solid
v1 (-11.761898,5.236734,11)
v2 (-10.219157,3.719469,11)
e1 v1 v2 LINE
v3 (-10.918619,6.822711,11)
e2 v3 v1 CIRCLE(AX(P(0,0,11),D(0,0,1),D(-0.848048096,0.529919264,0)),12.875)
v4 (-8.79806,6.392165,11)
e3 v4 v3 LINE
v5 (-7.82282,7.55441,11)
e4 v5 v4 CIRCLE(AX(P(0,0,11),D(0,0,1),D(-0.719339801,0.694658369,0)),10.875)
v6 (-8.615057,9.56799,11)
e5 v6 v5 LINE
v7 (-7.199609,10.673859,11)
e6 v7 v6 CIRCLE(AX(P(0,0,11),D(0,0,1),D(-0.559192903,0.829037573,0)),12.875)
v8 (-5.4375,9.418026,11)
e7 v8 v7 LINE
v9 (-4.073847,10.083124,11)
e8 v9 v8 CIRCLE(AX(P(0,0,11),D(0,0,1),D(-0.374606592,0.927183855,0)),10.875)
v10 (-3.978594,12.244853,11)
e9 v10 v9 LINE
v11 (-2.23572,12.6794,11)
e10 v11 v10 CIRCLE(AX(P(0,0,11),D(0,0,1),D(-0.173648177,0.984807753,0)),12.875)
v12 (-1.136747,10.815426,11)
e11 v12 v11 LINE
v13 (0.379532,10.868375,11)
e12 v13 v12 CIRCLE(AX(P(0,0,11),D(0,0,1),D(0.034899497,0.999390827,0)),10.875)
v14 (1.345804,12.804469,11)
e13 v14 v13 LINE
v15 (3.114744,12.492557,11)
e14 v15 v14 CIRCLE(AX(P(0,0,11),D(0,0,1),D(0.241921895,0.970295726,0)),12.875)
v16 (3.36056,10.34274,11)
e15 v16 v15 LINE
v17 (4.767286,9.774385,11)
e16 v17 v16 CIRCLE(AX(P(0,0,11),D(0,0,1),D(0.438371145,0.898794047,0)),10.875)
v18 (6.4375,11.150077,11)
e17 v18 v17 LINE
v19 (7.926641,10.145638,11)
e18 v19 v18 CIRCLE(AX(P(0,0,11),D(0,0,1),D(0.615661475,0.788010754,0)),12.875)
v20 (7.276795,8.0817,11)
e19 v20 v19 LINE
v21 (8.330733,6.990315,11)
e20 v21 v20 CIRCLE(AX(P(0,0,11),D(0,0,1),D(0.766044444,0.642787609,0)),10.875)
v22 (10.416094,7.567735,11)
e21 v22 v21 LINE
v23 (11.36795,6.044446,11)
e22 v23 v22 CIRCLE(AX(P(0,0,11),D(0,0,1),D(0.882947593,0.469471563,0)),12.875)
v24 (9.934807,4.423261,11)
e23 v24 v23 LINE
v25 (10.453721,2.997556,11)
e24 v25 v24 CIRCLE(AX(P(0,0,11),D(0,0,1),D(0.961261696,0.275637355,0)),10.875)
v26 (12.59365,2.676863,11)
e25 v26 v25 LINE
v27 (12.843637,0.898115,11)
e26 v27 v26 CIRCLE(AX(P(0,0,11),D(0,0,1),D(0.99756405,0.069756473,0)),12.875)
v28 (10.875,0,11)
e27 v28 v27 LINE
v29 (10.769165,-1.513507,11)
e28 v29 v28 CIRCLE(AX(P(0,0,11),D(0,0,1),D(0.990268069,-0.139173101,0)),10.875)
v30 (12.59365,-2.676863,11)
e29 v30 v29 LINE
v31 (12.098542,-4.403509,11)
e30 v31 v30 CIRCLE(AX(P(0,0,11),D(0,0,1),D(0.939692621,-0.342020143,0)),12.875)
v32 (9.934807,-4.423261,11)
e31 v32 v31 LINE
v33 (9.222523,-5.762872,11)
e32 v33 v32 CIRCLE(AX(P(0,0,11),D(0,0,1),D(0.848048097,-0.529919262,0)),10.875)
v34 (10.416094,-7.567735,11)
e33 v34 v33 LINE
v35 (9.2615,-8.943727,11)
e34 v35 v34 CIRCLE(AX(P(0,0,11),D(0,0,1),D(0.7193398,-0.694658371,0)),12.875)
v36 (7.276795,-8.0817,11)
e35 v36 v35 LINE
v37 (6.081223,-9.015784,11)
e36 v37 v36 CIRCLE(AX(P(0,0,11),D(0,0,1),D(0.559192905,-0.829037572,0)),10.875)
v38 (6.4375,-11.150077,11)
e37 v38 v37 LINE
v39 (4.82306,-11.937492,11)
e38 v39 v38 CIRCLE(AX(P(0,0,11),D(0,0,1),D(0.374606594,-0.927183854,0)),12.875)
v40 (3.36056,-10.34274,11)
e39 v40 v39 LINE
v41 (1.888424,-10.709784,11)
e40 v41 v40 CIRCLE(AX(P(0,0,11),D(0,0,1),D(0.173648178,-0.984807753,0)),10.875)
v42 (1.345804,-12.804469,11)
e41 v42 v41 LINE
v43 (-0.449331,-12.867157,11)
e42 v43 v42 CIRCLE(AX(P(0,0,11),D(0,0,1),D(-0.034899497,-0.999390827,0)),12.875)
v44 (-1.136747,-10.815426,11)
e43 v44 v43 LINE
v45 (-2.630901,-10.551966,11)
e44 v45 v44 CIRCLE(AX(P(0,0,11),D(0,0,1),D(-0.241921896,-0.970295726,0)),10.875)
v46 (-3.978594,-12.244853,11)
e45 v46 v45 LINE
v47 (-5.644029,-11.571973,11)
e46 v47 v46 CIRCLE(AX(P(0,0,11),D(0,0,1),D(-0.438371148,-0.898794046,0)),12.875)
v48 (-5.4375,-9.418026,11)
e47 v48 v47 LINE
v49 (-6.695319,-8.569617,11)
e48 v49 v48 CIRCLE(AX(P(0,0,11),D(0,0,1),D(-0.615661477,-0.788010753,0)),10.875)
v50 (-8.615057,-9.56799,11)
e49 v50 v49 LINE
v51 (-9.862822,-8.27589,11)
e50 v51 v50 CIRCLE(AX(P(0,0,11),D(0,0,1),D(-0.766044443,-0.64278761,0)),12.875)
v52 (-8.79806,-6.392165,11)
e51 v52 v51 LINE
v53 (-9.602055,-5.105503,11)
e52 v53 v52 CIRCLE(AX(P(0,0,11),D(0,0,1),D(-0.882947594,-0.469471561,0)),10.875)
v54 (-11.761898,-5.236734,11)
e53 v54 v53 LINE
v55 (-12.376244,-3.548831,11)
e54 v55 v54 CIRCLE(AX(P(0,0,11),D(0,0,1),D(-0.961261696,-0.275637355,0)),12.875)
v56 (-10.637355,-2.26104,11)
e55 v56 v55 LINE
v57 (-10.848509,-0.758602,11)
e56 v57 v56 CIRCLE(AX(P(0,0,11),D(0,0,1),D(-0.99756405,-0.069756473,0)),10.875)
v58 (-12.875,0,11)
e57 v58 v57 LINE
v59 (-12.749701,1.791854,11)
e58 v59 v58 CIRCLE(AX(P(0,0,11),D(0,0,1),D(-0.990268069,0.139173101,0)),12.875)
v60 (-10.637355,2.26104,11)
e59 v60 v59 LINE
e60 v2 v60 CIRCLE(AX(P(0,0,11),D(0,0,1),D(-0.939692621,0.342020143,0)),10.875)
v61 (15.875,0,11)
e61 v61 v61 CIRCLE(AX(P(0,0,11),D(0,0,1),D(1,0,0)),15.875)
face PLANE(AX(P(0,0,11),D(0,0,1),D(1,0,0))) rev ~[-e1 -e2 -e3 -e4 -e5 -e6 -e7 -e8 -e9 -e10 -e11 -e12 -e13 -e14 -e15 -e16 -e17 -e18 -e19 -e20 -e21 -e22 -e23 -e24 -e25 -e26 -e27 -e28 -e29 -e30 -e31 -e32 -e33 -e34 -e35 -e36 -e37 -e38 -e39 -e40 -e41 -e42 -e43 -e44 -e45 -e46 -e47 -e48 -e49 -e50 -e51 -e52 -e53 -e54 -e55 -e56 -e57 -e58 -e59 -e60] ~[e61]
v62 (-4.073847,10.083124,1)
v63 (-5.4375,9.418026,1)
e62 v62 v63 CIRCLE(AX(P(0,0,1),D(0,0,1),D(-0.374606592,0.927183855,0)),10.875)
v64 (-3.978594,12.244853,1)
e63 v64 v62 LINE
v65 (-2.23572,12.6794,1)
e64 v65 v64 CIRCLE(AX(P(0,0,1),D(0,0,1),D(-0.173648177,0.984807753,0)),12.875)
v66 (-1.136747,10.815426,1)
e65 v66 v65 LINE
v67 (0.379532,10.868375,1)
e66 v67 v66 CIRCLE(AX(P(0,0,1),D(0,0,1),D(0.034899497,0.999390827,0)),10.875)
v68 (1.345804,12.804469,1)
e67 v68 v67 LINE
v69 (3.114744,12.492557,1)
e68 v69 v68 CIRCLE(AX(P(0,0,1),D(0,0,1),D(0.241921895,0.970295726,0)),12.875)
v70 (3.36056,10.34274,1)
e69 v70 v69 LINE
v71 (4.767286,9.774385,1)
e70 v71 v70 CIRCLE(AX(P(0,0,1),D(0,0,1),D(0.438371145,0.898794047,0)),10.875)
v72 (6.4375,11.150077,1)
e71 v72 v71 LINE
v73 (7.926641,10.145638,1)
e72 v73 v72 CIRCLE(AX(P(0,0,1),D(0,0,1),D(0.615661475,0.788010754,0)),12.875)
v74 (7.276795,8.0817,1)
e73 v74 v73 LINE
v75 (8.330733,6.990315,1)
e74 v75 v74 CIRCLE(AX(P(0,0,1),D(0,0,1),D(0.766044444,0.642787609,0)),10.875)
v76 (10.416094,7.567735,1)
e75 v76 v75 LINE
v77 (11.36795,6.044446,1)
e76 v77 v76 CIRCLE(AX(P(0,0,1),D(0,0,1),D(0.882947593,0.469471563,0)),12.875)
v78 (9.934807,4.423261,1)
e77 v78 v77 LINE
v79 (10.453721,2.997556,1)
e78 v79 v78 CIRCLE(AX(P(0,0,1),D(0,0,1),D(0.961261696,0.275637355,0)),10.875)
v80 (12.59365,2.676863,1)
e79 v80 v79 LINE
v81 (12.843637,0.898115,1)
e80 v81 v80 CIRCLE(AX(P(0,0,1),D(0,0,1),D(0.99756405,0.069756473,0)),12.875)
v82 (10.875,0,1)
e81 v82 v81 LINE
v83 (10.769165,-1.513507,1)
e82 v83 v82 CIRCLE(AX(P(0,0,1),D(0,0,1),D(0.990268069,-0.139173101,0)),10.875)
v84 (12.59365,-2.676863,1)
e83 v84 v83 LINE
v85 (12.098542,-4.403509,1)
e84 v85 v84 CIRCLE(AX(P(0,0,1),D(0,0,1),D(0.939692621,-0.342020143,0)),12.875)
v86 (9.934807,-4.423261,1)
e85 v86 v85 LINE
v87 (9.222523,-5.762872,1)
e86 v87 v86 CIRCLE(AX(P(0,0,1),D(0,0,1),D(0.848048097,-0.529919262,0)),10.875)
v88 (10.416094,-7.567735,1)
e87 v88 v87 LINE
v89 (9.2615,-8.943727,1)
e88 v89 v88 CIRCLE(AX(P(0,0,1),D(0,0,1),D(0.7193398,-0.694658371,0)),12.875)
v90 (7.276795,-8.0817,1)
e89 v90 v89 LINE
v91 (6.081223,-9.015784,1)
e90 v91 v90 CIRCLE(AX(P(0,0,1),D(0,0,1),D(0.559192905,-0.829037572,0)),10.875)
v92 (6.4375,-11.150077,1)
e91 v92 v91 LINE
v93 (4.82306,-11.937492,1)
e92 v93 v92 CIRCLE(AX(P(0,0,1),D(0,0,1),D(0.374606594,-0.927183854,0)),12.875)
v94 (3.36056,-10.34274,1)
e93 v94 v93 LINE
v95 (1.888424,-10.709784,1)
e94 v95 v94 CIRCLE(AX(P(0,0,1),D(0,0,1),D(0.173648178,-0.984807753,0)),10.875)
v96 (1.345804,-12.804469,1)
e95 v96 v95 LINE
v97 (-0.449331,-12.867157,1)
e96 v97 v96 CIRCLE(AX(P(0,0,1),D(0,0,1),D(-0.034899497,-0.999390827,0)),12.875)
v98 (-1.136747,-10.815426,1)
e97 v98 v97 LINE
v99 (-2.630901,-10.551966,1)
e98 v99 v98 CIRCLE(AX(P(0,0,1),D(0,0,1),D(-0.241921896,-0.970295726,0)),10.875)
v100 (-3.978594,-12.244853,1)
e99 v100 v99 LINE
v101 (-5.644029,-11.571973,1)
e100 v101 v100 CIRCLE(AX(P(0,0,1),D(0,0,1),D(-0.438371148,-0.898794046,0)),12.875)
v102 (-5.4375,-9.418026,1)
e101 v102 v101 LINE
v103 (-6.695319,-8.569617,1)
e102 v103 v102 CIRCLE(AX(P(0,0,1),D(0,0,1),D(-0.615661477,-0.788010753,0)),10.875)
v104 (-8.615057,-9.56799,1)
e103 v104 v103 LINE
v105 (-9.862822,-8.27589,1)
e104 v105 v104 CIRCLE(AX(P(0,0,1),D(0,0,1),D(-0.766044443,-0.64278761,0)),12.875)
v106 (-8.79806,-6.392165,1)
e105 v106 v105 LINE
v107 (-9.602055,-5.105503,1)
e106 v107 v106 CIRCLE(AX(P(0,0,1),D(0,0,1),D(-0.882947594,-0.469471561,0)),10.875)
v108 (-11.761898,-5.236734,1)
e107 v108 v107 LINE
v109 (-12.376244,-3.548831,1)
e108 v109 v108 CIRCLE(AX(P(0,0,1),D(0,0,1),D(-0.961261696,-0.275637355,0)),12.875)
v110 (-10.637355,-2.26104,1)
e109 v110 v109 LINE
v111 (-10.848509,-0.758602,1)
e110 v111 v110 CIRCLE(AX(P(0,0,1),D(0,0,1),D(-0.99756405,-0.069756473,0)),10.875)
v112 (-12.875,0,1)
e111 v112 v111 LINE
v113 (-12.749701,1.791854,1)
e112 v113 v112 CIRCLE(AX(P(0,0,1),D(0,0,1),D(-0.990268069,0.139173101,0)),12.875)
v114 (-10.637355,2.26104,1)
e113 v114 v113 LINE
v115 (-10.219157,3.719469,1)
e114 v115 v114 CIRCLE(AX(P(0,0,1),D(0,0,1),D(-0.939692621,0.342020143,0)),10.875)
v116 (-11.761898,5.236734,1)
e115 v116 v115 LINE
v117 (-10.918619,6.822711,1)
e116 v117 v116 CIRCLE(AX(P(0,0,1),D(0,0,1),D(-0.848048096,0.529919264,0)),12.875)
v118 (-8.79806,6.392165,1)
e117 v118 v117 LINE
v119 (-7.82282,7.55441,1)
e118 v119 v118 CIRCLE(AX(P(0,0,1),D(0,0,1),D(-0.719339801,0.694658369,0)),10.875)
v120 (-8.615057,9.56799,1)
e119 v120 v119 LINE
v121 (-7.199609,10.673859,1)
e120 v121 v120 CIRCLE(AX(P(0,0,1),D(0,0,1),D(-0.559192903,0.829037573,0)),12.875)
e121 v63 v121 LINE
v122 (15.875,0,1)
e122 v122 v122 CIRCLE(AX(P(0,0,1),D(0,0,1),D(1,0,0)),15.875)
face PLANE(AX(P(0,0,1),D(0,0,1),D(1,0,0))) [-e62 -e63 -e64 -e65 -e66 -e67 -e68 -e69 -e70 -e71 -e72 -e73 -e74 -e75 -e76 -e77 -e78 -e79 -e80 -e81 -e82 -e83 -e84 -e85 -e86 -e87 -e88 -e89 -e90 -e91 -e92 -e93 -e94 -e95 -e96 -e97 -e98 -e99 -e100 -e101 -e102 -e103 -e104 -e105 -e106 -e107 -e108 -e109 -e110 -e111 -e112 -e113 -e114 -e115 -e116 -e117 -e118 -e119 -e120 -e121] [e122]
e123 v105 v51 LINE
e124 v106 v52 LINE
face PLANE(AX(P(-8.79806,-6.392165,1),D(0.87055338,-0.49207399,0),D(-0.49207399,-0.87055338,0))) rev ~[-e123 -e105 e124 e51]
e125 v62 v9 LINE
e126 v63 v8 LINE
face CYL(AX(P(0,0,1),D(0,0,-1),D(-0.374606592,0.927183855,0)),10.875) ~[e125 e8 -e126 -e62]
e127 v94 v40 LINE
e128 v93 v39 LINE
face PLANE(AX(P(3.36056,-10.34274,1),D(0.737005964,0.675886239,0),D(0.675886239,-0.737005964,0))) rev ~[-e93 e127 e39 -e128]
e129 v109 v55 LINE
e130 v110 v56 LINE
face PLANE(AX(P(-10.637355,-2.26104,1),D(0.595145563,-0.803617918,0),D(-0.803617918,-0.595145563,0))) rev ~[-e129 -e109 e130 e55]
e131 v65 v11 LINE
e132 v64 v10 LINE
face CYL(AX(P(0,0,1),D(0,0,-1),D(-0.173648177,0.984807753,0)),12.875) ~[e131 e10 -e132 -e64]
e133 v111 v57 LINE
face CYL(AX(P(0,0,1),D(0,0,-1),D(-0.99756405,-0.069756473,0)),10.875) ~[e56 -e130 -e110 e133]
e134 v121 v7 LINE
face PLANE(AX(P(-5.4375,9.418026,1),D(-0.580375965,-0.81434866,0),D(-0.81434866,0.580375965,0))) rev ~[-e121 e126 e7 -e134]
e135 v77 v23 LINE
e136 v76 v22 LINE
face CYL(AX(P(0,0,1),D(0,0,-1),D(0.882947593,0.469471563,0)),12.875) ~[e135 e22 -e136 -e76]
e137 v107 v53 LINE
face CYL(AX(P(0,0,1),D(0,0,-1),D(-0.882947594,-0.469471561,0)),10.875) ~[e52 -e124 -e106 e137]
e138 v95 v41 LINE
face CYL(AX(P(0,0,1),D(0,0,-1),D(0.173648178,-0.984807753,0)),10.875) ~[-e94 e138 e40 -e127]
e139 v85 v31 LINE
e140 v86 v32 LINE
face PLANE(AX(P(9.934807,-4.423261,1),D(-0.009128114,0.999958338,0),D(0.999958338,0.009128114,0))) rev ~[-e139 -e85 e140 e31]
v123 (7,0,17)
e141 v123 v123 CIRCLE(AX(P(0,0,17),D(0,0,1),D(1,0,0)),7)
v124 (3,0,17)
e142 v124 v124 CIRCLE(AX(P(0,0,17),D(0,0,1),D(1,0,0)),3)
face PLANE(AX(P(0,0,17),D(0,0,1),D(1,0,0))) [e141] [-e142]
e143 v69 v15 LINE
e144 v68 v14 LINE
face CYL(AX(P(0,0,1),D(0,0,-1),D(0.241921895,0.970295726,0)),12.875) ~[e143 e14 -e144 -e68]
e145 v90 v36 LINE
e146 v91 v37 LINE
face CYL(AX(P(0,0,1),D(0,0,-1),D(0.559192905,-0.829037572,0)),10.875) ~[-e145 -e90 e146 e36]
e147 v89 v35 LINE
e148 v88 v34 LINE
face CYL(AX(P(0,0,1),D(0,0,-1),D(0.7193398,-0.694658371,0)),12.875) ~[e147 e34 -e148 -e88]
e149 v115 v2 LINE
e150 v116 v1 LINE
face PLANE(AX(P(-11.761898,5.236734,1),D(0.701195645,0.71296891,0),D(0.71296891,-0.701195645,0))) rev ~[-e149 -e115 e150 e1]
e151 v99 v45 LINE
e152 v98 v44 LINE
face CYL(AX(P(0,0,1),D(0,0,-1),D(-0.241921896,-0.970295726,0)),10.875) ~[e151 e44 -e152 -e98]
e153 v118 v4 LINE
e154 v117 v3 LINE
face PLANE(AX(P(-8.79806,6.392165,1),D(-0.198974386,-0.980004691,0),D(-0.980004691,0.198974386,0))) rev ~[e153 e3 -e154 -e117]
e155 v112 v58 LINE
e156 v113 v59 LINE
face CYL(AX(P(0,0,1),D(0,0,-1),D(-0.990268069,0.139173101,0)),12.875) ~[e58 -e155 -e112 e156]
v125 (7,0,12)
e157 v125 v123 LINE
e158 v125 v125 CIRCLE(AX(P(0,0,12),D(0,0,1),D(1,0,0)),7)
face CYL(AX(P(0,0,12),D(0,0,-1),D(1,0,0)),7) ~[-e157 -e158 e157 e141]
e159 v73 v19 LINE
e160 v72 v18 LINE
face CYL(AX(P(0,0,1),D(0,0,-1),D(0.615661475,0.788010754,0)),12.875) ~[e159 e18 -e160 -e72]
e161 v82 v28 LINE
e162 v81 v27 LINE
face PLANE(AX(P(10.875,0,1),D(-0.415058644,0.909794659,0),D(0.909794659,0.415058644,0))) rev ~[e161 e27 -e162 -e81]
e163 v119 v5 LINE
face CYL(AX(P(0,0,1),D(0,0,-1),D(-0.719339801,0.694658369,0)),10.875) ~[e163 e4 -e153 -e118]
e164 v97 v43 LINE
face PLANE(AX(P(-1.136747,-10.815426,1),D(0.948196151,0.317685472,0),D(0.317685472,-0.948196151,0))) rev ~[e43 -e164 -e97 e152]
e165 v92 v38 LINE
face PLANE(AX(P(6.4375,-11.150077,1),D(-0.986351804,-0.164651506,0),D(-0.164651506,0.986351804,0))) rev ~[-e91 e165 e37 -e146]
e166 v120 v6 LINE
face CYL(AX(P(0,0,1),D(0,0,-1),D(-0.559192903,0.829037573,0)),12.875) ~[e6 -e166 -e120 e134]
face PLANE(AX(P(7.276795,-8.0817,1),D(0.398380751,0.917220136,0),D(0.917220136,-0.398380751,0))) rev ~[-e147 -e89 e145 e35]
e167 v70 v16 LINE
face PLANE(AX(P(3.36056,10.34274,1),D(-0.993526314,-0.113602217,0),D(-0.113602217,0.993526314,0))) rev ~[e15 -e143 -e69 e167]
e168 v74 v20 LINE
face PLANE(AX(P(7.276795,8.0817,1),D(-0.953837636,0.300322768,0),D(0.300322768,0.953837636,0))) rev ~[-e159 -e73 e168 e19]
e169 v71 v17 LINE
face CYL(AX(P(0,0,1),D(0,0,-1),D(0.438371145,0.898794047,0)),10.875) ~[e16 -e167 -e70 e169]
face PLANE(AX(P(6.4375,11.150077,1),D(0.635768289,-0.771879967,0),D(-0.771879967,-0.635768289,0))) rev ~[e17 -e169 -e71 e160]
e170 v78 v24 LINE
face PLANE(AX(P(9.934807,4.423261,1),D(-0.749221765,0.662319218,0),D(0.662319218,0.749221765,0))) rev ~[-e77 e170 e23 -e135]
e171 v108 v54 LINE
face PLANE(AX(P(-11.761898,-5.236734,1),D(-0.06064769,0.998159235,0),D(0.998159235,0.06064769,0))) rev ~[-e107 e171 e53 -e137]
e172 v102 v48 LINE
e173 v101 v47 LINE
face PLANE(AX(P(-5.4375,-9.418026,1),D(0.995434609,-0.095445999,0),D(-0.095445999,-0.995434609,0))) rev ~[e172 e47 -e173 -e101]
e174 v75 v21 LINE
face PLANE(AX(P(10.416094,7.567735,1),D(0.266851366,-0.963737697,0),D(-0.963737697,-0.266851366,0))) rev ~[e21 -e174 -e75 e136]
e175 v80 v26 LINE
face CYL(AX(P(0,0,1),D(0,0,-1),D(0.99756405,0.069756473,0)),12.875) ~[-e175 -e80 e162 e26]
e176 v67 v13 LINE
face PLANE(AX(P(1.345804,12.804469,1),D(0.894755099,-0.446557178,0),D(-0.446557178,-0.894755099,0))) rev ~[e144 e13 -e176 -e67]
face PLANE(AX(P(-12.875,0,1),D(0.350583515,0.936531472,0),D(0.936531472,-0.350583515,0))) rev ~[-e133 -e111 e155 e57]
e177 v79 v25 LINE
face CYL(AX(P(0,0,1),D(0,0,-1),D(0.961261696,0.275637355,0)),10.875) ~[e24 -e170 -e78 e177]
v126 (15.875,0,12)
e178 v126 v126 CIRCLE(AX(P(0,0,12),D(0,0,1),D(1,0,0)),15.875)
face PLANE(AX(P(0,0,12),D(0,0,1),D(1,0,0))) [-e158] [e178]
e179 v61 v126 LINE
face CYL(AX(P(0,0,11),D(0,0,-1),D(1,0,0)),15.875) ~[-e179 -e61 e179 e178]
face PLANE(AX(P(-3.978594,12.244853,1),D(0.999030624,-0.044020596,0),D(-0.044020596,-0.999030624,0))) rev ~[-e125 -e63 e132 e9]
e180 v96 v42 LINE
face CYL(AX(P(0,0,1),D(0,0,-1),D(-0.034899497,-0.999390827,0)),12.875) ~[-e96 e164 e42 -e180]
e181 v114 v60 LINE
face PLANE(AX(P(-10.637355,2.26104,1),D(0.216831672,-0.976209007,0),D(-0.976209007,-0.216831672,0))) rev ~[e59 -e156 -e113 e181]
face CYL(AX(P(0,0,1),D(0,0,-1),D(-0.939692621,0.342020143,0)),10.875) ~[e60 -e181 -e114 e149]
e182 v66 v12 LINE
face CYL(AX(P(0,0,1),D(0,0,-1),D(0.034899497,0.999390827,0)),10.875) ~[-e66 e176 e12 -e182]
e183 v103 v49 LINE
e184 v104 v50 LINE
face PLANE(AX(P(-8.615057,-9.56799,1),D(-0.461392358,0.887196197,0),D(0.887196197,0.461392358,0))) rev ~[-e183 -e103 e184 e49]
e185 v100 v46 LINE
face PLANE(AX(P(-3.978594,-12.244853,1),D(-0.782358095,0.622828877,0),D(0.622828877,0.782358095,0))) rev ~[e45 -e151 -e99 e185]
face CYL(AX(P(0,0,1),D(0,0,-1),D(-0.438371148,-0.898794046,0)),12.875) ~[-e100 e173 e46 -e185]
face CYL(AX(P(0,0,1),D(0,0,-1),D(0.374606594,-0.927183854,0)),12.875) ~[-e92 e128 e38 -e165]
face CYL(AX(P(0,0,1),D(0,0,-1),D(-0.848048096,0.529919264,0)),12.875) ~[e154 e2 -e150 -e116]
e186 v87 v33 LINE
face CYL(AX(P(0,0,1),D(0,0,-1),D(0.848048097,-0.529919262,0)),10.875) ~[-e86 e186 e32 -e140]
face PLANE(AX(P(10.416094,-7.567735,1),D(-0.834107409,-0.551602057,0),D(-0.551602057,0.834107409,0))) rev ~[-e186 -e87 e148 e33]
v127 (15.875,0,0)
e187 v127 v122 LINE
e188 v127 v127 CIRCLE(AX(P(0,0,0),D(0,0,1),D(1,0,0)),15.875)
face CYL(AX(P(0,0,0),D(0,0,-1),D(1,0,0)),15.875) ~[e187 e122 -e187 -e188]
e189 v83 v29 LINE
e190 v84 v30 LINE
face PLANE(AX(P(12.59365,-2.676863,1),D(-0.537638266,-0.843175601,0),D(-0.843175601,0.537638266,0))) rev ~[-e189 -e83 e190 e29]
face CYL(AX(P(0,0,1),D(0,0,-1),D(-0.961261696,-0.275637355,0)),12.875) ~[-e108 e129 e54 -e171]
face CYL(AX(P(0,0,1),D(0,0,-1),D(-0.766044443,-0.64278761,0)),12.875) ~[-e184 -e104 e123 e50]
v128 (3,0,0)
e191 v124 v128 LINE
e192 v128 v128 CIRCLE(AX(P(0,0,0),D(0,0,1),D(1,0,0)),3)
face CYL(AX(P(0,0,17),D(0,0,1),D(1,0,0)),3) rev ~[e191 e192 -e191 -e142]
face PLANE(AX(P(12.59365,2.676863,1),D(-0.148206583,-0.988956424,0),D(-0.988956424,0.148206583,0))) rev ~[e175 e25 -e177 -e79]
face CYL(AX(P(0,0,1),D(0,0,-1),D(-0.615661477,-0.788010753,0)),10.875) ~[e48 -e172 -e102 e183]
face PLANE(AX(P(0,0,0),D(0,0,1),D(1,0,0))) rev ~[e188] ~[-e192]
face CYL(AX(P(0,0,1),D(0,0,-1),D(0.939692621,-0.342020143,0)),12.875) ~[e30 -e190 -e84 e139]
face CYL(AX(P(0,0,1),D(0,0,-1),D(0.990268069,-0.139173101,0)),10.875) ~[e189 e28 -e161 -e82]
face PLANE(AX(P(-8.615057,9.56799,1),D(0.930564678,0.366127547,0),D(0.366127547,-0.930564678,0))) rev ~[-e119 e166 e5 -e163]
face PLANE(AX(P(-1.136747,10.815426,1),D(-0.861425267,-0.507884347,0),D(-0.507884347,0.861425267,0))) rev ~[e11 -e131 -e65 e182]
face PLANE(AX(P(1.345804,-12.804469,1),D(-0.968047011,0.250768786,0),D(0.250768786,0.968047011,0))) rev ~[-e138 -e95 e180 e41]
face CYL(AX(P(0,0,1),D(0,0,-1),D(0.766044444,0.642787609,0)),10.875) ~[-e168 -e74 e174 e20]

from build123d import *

# Parameters (mm, degrees)
SKETCH1_R           = 15.875
BOSS_EXTRUDE1_DEPTH = 1
BOSS_EXTRUDE2_DEPTH = 10
SKETCH3_R           = 15.875
BOSS_EXTRUDE3_DEPTH = 1
SKETCH4_R           = 7
BOSS_EXTRUDE4_DEPTH = 5
CUT_EXTRUDE1_REACH  = 30.161
SKETCH5_R           = 3


with BuildPart() as part:
    # Sketch1 → Boss-Extrude1 (new body)
    with BuildSketch(Plane.XY):
        Circle(SKETCH1_R)
    extrude(amount=BOSS_EXTRUDE1_DEPTH)

    # Sketch2 → Boss-Extrude2 (add)
    with BuildSketch(Plane.XY.offset(1)):
        with BuildLine():
            Line((9.934806852, -4.423260993), (12.098542493, -4.403509345))
            ThreePointArc((12.098542493, -4.403509345), (12.376244335, -3.548830956), (12.593650359, -2.676863019))
            Line((12.593650359, -2.676863019), (10.769165248, -1.513507473))
            ThreePointArc((10.769165248, -1.513507473), (10.848509047, -0.758601652), (10.875, 0))
            Line((10.875, 0), (12.843637147, 0.898114599))
            ThreePointArc((12.843637147, 0.898114599), (12.749701385, 1.791853675), (12.593650359, 2.676863019))
            Line((12.593650359, 2.676863019), (10.453720943, 2.997556245))
            ThreePointArc((10.453720943, 2.997556245), (10.219157251, 3.719469059), (9.934806852, 4.423260993))
            Line((9.934806852, 4.423260993), (11.367950258, 6.044446371))
            ThreePointArc((11.367950258, 6.044446371), (10.918619238, 6.822710527), (10.416093803, 7.567735123))
            Line((10.416093803, 7.567735123), (8.330733319, 6.990315255))
            ThreePointArc((8.330733319, 6.990315255), (7.822820329, 7.554409779), (7.276795344, 8.081699977))
            Line((7.276795344, 8.081699977), (7.926641495, 10.145638453))
            ThreePointArc((7.926641495, 10.145638453), (7.199608632, 10.673858747), (6.4375, 11.150077074))
            Line((6.4375, 11.150077074), (4.767286221, 9.774385254))
            ThreePointArc((4.767286221, 9.774385254), (4.073846703, 10.083124418), (3.360559814, 10.342739615))
            Line((3.360559814, 10.342739615), (3.114744406, 12.492557476))
            ThreePointArc((3.114744406, 12.492557476), (2.235720287, 12.67939982), (1.345803965, 12.804469403))
            Line((1.345803965, 12.804469403), (0.379532027, 10.868375244))
            ThreePointArc((0.379532027, 10.868375244), (-0.379532027, 10.868375244), (-1.136747038, 10.815425612))
            Line((-1.136747038, 10.815425612), (-2.235720287, 12.67939982))
            ThreePointArc((-2.235720287, 12.67939982), (-3.114744406, 12.492557476), (-3.978593803, 12.244852647))
            Line((-3.978593803, 12.244852647), (-4.073846703, 10.083124418))
            ThreePointArc((-4.073846703, 10.083124418), (-4.767286221, 9.774385254), (-5.4375, 9.418026266))
            Line((-5.4375, 9.418026266), (-7.199608632, 10.673858747))
            ThreePointArc((-7.199608632, 10.673858747), (-7.926641495, 10.145638453), (-8.615056557, 9.567989628))
            Line((-8.615056557, 9.567989628), (-7.822820329, 7.554409779))
            ThreePointArc((-7.822820329, 7.554409779), (-8.330733319, 6.990315255), (-8.798059814, 6.392164619))
            Line((-8.798059814, 6.392164619), (-10.918619238, 6.822710527))
            ThreePointArc((-10.918619238, 6.822710527), (-11.367950258, 6.044446371), (-11.761897767, 5.23673428))
            Line((-11.761897767, 5.23673428), (-10.219157251, 3.719469059))
            ThreePointArc((-10.219157251, 3.719469059), (-10.453720943, 2.997556245), (-10.637355158, 2.261039638))
            Line((-10.637355158, 2.261039638), (-12.749701385, 1.791853675))
            ThreePointArc((-12.749701385, 1.791853675), (-12.843637147, 0.898114599), (-12.875, 0))
            Line((-12.875, 0), (-10.848509047, -0.758601652))
            ThreePointArc((-10.848509047, -0.758601652), (-10.769165248, -1.513507473), (-10.637355158, -2.261039638))
            Line((-10.637355158, -2.261039638), (-12.376244335, -3.548830956))
            ThreePointArc((-12.376244335, -3.548830956), (-12.098542493, -4.403509345), (-11.761897767, -5.23673428))
            Line((-11.761897767, -5.23673428), (-9.602055072, -5.105503245))
            ThreePointArc((-9.602055072, -5.105503245), (-9.222523046, -5.762871999), (-8.798059814, -6.392164619))
            Line((-8.798059814, -6.392164619), (-9.862822205, -8.275890475))
            ThreePointArc((-9.862822205, -8.275890475), (-9.261499929, -8.94372652), (-8.615056557, -9.567989628))
            Line((-8.615056557, -9.567989628), (-6.695318544, -8.569616945))
            ThreePointArc((-6.695318544, -8.569616945), (-6.081222825, -9.015783602), (-5.4375, -9.418026266))
            Line((-5.4375, -9.418026266), (-5.644028515, -11.571973346))
            ThreePointArc((-5.644028515, -11.571973346), (-4.82305989, -11.937492128), (-3.978593803, -12.244852647))
            Line((-3.978593803, -12.244852647), (-2.630900615, -10.551966023))
            ThreePointArc((-2.630900615, -10.551966023), (-1.888423932, -10.709784314), (-1.136747038, -10.815425612))
            Line((-1.136747038, -10.815425612), (-0.44933102, -12.867156898))
            ThreePointArc((-0.44933102, -12.867156898), (0.44933102, -12.867156898), (1.345803965, -12.804469403))
            Line((1.345803965, -12.804469403), (1.888423932, -10.709784314))
            ThreePointArc((1.888423932, -10.709784314), (2.630900615, -10.551966023), (3.360559814, -10.342739615))
            Line((3.360559814, -10.342739615), (4.82305989, -11.937492128))
            ThreePointArc((4.82305989, -11.937492128), (5.644028515, -11.571973346), (6.4375, -11.150077074))
            Line((6.4375, -11.150077074), (6.081222825, -9.015783602))
            ThreePointArc((6.081222825, -9.015783602), (6.695318544, -8.569616945), (7.276795344, -8.081699977))
            Line((7.276795344, -8.081699977), (9.261499929, -8.94372652))
            ThreePointArc((9.261499929, -8.94372652), (9.862822205, -8.275890475), (10.416093803, -7.567735123))
            Line((10.416093803, -7.567735123), (9.222523046, -5.762871999))
            ThreePointArc((9.222523046, -5.762871999), (9.602055072, -5.105503245), (9.934806852, -4.423260993))
        make_face()
    extrude(amount=BOSS_EXTRUDE2_DEPTH)

    # Sketch3 → Boss-Extrude3 (add)
    with BuildSketch(Plane.XY.offset(11)):
        Circle(SKETCH3_R)
    extrude(amount=BOSS_EXTRUDE3_DEPTH)

    # Sketch4 → Boss-Extrude4 (add)
    with BuildSketch(Plane.XY.offset(12)):
        Circle(SKETCH4_R)
    extrude(amount=BOSS_EXTRUDE4_DEPTH)

    # Sketch5 → Cut-Extrude1 (cut, up to next)
    with BuildSketch(Plane.XY.offset(17), mode=Mode.PRIVATE) as cut_extrude1_sk1:
        Circle(SKETCH5_R)
    cut_extrude1_tool1 = extrude(cut_extrude1_sk1.sketch, amount=-CUT_EXTRUDE1_REACH, mode=Mode.PRIVATE) & part.part
    add(cut_extrude1_tool1.solids().sort_by_distance((0, 0, 17))[0], mode=Mode.SUBTRACT)


solid = part.part
